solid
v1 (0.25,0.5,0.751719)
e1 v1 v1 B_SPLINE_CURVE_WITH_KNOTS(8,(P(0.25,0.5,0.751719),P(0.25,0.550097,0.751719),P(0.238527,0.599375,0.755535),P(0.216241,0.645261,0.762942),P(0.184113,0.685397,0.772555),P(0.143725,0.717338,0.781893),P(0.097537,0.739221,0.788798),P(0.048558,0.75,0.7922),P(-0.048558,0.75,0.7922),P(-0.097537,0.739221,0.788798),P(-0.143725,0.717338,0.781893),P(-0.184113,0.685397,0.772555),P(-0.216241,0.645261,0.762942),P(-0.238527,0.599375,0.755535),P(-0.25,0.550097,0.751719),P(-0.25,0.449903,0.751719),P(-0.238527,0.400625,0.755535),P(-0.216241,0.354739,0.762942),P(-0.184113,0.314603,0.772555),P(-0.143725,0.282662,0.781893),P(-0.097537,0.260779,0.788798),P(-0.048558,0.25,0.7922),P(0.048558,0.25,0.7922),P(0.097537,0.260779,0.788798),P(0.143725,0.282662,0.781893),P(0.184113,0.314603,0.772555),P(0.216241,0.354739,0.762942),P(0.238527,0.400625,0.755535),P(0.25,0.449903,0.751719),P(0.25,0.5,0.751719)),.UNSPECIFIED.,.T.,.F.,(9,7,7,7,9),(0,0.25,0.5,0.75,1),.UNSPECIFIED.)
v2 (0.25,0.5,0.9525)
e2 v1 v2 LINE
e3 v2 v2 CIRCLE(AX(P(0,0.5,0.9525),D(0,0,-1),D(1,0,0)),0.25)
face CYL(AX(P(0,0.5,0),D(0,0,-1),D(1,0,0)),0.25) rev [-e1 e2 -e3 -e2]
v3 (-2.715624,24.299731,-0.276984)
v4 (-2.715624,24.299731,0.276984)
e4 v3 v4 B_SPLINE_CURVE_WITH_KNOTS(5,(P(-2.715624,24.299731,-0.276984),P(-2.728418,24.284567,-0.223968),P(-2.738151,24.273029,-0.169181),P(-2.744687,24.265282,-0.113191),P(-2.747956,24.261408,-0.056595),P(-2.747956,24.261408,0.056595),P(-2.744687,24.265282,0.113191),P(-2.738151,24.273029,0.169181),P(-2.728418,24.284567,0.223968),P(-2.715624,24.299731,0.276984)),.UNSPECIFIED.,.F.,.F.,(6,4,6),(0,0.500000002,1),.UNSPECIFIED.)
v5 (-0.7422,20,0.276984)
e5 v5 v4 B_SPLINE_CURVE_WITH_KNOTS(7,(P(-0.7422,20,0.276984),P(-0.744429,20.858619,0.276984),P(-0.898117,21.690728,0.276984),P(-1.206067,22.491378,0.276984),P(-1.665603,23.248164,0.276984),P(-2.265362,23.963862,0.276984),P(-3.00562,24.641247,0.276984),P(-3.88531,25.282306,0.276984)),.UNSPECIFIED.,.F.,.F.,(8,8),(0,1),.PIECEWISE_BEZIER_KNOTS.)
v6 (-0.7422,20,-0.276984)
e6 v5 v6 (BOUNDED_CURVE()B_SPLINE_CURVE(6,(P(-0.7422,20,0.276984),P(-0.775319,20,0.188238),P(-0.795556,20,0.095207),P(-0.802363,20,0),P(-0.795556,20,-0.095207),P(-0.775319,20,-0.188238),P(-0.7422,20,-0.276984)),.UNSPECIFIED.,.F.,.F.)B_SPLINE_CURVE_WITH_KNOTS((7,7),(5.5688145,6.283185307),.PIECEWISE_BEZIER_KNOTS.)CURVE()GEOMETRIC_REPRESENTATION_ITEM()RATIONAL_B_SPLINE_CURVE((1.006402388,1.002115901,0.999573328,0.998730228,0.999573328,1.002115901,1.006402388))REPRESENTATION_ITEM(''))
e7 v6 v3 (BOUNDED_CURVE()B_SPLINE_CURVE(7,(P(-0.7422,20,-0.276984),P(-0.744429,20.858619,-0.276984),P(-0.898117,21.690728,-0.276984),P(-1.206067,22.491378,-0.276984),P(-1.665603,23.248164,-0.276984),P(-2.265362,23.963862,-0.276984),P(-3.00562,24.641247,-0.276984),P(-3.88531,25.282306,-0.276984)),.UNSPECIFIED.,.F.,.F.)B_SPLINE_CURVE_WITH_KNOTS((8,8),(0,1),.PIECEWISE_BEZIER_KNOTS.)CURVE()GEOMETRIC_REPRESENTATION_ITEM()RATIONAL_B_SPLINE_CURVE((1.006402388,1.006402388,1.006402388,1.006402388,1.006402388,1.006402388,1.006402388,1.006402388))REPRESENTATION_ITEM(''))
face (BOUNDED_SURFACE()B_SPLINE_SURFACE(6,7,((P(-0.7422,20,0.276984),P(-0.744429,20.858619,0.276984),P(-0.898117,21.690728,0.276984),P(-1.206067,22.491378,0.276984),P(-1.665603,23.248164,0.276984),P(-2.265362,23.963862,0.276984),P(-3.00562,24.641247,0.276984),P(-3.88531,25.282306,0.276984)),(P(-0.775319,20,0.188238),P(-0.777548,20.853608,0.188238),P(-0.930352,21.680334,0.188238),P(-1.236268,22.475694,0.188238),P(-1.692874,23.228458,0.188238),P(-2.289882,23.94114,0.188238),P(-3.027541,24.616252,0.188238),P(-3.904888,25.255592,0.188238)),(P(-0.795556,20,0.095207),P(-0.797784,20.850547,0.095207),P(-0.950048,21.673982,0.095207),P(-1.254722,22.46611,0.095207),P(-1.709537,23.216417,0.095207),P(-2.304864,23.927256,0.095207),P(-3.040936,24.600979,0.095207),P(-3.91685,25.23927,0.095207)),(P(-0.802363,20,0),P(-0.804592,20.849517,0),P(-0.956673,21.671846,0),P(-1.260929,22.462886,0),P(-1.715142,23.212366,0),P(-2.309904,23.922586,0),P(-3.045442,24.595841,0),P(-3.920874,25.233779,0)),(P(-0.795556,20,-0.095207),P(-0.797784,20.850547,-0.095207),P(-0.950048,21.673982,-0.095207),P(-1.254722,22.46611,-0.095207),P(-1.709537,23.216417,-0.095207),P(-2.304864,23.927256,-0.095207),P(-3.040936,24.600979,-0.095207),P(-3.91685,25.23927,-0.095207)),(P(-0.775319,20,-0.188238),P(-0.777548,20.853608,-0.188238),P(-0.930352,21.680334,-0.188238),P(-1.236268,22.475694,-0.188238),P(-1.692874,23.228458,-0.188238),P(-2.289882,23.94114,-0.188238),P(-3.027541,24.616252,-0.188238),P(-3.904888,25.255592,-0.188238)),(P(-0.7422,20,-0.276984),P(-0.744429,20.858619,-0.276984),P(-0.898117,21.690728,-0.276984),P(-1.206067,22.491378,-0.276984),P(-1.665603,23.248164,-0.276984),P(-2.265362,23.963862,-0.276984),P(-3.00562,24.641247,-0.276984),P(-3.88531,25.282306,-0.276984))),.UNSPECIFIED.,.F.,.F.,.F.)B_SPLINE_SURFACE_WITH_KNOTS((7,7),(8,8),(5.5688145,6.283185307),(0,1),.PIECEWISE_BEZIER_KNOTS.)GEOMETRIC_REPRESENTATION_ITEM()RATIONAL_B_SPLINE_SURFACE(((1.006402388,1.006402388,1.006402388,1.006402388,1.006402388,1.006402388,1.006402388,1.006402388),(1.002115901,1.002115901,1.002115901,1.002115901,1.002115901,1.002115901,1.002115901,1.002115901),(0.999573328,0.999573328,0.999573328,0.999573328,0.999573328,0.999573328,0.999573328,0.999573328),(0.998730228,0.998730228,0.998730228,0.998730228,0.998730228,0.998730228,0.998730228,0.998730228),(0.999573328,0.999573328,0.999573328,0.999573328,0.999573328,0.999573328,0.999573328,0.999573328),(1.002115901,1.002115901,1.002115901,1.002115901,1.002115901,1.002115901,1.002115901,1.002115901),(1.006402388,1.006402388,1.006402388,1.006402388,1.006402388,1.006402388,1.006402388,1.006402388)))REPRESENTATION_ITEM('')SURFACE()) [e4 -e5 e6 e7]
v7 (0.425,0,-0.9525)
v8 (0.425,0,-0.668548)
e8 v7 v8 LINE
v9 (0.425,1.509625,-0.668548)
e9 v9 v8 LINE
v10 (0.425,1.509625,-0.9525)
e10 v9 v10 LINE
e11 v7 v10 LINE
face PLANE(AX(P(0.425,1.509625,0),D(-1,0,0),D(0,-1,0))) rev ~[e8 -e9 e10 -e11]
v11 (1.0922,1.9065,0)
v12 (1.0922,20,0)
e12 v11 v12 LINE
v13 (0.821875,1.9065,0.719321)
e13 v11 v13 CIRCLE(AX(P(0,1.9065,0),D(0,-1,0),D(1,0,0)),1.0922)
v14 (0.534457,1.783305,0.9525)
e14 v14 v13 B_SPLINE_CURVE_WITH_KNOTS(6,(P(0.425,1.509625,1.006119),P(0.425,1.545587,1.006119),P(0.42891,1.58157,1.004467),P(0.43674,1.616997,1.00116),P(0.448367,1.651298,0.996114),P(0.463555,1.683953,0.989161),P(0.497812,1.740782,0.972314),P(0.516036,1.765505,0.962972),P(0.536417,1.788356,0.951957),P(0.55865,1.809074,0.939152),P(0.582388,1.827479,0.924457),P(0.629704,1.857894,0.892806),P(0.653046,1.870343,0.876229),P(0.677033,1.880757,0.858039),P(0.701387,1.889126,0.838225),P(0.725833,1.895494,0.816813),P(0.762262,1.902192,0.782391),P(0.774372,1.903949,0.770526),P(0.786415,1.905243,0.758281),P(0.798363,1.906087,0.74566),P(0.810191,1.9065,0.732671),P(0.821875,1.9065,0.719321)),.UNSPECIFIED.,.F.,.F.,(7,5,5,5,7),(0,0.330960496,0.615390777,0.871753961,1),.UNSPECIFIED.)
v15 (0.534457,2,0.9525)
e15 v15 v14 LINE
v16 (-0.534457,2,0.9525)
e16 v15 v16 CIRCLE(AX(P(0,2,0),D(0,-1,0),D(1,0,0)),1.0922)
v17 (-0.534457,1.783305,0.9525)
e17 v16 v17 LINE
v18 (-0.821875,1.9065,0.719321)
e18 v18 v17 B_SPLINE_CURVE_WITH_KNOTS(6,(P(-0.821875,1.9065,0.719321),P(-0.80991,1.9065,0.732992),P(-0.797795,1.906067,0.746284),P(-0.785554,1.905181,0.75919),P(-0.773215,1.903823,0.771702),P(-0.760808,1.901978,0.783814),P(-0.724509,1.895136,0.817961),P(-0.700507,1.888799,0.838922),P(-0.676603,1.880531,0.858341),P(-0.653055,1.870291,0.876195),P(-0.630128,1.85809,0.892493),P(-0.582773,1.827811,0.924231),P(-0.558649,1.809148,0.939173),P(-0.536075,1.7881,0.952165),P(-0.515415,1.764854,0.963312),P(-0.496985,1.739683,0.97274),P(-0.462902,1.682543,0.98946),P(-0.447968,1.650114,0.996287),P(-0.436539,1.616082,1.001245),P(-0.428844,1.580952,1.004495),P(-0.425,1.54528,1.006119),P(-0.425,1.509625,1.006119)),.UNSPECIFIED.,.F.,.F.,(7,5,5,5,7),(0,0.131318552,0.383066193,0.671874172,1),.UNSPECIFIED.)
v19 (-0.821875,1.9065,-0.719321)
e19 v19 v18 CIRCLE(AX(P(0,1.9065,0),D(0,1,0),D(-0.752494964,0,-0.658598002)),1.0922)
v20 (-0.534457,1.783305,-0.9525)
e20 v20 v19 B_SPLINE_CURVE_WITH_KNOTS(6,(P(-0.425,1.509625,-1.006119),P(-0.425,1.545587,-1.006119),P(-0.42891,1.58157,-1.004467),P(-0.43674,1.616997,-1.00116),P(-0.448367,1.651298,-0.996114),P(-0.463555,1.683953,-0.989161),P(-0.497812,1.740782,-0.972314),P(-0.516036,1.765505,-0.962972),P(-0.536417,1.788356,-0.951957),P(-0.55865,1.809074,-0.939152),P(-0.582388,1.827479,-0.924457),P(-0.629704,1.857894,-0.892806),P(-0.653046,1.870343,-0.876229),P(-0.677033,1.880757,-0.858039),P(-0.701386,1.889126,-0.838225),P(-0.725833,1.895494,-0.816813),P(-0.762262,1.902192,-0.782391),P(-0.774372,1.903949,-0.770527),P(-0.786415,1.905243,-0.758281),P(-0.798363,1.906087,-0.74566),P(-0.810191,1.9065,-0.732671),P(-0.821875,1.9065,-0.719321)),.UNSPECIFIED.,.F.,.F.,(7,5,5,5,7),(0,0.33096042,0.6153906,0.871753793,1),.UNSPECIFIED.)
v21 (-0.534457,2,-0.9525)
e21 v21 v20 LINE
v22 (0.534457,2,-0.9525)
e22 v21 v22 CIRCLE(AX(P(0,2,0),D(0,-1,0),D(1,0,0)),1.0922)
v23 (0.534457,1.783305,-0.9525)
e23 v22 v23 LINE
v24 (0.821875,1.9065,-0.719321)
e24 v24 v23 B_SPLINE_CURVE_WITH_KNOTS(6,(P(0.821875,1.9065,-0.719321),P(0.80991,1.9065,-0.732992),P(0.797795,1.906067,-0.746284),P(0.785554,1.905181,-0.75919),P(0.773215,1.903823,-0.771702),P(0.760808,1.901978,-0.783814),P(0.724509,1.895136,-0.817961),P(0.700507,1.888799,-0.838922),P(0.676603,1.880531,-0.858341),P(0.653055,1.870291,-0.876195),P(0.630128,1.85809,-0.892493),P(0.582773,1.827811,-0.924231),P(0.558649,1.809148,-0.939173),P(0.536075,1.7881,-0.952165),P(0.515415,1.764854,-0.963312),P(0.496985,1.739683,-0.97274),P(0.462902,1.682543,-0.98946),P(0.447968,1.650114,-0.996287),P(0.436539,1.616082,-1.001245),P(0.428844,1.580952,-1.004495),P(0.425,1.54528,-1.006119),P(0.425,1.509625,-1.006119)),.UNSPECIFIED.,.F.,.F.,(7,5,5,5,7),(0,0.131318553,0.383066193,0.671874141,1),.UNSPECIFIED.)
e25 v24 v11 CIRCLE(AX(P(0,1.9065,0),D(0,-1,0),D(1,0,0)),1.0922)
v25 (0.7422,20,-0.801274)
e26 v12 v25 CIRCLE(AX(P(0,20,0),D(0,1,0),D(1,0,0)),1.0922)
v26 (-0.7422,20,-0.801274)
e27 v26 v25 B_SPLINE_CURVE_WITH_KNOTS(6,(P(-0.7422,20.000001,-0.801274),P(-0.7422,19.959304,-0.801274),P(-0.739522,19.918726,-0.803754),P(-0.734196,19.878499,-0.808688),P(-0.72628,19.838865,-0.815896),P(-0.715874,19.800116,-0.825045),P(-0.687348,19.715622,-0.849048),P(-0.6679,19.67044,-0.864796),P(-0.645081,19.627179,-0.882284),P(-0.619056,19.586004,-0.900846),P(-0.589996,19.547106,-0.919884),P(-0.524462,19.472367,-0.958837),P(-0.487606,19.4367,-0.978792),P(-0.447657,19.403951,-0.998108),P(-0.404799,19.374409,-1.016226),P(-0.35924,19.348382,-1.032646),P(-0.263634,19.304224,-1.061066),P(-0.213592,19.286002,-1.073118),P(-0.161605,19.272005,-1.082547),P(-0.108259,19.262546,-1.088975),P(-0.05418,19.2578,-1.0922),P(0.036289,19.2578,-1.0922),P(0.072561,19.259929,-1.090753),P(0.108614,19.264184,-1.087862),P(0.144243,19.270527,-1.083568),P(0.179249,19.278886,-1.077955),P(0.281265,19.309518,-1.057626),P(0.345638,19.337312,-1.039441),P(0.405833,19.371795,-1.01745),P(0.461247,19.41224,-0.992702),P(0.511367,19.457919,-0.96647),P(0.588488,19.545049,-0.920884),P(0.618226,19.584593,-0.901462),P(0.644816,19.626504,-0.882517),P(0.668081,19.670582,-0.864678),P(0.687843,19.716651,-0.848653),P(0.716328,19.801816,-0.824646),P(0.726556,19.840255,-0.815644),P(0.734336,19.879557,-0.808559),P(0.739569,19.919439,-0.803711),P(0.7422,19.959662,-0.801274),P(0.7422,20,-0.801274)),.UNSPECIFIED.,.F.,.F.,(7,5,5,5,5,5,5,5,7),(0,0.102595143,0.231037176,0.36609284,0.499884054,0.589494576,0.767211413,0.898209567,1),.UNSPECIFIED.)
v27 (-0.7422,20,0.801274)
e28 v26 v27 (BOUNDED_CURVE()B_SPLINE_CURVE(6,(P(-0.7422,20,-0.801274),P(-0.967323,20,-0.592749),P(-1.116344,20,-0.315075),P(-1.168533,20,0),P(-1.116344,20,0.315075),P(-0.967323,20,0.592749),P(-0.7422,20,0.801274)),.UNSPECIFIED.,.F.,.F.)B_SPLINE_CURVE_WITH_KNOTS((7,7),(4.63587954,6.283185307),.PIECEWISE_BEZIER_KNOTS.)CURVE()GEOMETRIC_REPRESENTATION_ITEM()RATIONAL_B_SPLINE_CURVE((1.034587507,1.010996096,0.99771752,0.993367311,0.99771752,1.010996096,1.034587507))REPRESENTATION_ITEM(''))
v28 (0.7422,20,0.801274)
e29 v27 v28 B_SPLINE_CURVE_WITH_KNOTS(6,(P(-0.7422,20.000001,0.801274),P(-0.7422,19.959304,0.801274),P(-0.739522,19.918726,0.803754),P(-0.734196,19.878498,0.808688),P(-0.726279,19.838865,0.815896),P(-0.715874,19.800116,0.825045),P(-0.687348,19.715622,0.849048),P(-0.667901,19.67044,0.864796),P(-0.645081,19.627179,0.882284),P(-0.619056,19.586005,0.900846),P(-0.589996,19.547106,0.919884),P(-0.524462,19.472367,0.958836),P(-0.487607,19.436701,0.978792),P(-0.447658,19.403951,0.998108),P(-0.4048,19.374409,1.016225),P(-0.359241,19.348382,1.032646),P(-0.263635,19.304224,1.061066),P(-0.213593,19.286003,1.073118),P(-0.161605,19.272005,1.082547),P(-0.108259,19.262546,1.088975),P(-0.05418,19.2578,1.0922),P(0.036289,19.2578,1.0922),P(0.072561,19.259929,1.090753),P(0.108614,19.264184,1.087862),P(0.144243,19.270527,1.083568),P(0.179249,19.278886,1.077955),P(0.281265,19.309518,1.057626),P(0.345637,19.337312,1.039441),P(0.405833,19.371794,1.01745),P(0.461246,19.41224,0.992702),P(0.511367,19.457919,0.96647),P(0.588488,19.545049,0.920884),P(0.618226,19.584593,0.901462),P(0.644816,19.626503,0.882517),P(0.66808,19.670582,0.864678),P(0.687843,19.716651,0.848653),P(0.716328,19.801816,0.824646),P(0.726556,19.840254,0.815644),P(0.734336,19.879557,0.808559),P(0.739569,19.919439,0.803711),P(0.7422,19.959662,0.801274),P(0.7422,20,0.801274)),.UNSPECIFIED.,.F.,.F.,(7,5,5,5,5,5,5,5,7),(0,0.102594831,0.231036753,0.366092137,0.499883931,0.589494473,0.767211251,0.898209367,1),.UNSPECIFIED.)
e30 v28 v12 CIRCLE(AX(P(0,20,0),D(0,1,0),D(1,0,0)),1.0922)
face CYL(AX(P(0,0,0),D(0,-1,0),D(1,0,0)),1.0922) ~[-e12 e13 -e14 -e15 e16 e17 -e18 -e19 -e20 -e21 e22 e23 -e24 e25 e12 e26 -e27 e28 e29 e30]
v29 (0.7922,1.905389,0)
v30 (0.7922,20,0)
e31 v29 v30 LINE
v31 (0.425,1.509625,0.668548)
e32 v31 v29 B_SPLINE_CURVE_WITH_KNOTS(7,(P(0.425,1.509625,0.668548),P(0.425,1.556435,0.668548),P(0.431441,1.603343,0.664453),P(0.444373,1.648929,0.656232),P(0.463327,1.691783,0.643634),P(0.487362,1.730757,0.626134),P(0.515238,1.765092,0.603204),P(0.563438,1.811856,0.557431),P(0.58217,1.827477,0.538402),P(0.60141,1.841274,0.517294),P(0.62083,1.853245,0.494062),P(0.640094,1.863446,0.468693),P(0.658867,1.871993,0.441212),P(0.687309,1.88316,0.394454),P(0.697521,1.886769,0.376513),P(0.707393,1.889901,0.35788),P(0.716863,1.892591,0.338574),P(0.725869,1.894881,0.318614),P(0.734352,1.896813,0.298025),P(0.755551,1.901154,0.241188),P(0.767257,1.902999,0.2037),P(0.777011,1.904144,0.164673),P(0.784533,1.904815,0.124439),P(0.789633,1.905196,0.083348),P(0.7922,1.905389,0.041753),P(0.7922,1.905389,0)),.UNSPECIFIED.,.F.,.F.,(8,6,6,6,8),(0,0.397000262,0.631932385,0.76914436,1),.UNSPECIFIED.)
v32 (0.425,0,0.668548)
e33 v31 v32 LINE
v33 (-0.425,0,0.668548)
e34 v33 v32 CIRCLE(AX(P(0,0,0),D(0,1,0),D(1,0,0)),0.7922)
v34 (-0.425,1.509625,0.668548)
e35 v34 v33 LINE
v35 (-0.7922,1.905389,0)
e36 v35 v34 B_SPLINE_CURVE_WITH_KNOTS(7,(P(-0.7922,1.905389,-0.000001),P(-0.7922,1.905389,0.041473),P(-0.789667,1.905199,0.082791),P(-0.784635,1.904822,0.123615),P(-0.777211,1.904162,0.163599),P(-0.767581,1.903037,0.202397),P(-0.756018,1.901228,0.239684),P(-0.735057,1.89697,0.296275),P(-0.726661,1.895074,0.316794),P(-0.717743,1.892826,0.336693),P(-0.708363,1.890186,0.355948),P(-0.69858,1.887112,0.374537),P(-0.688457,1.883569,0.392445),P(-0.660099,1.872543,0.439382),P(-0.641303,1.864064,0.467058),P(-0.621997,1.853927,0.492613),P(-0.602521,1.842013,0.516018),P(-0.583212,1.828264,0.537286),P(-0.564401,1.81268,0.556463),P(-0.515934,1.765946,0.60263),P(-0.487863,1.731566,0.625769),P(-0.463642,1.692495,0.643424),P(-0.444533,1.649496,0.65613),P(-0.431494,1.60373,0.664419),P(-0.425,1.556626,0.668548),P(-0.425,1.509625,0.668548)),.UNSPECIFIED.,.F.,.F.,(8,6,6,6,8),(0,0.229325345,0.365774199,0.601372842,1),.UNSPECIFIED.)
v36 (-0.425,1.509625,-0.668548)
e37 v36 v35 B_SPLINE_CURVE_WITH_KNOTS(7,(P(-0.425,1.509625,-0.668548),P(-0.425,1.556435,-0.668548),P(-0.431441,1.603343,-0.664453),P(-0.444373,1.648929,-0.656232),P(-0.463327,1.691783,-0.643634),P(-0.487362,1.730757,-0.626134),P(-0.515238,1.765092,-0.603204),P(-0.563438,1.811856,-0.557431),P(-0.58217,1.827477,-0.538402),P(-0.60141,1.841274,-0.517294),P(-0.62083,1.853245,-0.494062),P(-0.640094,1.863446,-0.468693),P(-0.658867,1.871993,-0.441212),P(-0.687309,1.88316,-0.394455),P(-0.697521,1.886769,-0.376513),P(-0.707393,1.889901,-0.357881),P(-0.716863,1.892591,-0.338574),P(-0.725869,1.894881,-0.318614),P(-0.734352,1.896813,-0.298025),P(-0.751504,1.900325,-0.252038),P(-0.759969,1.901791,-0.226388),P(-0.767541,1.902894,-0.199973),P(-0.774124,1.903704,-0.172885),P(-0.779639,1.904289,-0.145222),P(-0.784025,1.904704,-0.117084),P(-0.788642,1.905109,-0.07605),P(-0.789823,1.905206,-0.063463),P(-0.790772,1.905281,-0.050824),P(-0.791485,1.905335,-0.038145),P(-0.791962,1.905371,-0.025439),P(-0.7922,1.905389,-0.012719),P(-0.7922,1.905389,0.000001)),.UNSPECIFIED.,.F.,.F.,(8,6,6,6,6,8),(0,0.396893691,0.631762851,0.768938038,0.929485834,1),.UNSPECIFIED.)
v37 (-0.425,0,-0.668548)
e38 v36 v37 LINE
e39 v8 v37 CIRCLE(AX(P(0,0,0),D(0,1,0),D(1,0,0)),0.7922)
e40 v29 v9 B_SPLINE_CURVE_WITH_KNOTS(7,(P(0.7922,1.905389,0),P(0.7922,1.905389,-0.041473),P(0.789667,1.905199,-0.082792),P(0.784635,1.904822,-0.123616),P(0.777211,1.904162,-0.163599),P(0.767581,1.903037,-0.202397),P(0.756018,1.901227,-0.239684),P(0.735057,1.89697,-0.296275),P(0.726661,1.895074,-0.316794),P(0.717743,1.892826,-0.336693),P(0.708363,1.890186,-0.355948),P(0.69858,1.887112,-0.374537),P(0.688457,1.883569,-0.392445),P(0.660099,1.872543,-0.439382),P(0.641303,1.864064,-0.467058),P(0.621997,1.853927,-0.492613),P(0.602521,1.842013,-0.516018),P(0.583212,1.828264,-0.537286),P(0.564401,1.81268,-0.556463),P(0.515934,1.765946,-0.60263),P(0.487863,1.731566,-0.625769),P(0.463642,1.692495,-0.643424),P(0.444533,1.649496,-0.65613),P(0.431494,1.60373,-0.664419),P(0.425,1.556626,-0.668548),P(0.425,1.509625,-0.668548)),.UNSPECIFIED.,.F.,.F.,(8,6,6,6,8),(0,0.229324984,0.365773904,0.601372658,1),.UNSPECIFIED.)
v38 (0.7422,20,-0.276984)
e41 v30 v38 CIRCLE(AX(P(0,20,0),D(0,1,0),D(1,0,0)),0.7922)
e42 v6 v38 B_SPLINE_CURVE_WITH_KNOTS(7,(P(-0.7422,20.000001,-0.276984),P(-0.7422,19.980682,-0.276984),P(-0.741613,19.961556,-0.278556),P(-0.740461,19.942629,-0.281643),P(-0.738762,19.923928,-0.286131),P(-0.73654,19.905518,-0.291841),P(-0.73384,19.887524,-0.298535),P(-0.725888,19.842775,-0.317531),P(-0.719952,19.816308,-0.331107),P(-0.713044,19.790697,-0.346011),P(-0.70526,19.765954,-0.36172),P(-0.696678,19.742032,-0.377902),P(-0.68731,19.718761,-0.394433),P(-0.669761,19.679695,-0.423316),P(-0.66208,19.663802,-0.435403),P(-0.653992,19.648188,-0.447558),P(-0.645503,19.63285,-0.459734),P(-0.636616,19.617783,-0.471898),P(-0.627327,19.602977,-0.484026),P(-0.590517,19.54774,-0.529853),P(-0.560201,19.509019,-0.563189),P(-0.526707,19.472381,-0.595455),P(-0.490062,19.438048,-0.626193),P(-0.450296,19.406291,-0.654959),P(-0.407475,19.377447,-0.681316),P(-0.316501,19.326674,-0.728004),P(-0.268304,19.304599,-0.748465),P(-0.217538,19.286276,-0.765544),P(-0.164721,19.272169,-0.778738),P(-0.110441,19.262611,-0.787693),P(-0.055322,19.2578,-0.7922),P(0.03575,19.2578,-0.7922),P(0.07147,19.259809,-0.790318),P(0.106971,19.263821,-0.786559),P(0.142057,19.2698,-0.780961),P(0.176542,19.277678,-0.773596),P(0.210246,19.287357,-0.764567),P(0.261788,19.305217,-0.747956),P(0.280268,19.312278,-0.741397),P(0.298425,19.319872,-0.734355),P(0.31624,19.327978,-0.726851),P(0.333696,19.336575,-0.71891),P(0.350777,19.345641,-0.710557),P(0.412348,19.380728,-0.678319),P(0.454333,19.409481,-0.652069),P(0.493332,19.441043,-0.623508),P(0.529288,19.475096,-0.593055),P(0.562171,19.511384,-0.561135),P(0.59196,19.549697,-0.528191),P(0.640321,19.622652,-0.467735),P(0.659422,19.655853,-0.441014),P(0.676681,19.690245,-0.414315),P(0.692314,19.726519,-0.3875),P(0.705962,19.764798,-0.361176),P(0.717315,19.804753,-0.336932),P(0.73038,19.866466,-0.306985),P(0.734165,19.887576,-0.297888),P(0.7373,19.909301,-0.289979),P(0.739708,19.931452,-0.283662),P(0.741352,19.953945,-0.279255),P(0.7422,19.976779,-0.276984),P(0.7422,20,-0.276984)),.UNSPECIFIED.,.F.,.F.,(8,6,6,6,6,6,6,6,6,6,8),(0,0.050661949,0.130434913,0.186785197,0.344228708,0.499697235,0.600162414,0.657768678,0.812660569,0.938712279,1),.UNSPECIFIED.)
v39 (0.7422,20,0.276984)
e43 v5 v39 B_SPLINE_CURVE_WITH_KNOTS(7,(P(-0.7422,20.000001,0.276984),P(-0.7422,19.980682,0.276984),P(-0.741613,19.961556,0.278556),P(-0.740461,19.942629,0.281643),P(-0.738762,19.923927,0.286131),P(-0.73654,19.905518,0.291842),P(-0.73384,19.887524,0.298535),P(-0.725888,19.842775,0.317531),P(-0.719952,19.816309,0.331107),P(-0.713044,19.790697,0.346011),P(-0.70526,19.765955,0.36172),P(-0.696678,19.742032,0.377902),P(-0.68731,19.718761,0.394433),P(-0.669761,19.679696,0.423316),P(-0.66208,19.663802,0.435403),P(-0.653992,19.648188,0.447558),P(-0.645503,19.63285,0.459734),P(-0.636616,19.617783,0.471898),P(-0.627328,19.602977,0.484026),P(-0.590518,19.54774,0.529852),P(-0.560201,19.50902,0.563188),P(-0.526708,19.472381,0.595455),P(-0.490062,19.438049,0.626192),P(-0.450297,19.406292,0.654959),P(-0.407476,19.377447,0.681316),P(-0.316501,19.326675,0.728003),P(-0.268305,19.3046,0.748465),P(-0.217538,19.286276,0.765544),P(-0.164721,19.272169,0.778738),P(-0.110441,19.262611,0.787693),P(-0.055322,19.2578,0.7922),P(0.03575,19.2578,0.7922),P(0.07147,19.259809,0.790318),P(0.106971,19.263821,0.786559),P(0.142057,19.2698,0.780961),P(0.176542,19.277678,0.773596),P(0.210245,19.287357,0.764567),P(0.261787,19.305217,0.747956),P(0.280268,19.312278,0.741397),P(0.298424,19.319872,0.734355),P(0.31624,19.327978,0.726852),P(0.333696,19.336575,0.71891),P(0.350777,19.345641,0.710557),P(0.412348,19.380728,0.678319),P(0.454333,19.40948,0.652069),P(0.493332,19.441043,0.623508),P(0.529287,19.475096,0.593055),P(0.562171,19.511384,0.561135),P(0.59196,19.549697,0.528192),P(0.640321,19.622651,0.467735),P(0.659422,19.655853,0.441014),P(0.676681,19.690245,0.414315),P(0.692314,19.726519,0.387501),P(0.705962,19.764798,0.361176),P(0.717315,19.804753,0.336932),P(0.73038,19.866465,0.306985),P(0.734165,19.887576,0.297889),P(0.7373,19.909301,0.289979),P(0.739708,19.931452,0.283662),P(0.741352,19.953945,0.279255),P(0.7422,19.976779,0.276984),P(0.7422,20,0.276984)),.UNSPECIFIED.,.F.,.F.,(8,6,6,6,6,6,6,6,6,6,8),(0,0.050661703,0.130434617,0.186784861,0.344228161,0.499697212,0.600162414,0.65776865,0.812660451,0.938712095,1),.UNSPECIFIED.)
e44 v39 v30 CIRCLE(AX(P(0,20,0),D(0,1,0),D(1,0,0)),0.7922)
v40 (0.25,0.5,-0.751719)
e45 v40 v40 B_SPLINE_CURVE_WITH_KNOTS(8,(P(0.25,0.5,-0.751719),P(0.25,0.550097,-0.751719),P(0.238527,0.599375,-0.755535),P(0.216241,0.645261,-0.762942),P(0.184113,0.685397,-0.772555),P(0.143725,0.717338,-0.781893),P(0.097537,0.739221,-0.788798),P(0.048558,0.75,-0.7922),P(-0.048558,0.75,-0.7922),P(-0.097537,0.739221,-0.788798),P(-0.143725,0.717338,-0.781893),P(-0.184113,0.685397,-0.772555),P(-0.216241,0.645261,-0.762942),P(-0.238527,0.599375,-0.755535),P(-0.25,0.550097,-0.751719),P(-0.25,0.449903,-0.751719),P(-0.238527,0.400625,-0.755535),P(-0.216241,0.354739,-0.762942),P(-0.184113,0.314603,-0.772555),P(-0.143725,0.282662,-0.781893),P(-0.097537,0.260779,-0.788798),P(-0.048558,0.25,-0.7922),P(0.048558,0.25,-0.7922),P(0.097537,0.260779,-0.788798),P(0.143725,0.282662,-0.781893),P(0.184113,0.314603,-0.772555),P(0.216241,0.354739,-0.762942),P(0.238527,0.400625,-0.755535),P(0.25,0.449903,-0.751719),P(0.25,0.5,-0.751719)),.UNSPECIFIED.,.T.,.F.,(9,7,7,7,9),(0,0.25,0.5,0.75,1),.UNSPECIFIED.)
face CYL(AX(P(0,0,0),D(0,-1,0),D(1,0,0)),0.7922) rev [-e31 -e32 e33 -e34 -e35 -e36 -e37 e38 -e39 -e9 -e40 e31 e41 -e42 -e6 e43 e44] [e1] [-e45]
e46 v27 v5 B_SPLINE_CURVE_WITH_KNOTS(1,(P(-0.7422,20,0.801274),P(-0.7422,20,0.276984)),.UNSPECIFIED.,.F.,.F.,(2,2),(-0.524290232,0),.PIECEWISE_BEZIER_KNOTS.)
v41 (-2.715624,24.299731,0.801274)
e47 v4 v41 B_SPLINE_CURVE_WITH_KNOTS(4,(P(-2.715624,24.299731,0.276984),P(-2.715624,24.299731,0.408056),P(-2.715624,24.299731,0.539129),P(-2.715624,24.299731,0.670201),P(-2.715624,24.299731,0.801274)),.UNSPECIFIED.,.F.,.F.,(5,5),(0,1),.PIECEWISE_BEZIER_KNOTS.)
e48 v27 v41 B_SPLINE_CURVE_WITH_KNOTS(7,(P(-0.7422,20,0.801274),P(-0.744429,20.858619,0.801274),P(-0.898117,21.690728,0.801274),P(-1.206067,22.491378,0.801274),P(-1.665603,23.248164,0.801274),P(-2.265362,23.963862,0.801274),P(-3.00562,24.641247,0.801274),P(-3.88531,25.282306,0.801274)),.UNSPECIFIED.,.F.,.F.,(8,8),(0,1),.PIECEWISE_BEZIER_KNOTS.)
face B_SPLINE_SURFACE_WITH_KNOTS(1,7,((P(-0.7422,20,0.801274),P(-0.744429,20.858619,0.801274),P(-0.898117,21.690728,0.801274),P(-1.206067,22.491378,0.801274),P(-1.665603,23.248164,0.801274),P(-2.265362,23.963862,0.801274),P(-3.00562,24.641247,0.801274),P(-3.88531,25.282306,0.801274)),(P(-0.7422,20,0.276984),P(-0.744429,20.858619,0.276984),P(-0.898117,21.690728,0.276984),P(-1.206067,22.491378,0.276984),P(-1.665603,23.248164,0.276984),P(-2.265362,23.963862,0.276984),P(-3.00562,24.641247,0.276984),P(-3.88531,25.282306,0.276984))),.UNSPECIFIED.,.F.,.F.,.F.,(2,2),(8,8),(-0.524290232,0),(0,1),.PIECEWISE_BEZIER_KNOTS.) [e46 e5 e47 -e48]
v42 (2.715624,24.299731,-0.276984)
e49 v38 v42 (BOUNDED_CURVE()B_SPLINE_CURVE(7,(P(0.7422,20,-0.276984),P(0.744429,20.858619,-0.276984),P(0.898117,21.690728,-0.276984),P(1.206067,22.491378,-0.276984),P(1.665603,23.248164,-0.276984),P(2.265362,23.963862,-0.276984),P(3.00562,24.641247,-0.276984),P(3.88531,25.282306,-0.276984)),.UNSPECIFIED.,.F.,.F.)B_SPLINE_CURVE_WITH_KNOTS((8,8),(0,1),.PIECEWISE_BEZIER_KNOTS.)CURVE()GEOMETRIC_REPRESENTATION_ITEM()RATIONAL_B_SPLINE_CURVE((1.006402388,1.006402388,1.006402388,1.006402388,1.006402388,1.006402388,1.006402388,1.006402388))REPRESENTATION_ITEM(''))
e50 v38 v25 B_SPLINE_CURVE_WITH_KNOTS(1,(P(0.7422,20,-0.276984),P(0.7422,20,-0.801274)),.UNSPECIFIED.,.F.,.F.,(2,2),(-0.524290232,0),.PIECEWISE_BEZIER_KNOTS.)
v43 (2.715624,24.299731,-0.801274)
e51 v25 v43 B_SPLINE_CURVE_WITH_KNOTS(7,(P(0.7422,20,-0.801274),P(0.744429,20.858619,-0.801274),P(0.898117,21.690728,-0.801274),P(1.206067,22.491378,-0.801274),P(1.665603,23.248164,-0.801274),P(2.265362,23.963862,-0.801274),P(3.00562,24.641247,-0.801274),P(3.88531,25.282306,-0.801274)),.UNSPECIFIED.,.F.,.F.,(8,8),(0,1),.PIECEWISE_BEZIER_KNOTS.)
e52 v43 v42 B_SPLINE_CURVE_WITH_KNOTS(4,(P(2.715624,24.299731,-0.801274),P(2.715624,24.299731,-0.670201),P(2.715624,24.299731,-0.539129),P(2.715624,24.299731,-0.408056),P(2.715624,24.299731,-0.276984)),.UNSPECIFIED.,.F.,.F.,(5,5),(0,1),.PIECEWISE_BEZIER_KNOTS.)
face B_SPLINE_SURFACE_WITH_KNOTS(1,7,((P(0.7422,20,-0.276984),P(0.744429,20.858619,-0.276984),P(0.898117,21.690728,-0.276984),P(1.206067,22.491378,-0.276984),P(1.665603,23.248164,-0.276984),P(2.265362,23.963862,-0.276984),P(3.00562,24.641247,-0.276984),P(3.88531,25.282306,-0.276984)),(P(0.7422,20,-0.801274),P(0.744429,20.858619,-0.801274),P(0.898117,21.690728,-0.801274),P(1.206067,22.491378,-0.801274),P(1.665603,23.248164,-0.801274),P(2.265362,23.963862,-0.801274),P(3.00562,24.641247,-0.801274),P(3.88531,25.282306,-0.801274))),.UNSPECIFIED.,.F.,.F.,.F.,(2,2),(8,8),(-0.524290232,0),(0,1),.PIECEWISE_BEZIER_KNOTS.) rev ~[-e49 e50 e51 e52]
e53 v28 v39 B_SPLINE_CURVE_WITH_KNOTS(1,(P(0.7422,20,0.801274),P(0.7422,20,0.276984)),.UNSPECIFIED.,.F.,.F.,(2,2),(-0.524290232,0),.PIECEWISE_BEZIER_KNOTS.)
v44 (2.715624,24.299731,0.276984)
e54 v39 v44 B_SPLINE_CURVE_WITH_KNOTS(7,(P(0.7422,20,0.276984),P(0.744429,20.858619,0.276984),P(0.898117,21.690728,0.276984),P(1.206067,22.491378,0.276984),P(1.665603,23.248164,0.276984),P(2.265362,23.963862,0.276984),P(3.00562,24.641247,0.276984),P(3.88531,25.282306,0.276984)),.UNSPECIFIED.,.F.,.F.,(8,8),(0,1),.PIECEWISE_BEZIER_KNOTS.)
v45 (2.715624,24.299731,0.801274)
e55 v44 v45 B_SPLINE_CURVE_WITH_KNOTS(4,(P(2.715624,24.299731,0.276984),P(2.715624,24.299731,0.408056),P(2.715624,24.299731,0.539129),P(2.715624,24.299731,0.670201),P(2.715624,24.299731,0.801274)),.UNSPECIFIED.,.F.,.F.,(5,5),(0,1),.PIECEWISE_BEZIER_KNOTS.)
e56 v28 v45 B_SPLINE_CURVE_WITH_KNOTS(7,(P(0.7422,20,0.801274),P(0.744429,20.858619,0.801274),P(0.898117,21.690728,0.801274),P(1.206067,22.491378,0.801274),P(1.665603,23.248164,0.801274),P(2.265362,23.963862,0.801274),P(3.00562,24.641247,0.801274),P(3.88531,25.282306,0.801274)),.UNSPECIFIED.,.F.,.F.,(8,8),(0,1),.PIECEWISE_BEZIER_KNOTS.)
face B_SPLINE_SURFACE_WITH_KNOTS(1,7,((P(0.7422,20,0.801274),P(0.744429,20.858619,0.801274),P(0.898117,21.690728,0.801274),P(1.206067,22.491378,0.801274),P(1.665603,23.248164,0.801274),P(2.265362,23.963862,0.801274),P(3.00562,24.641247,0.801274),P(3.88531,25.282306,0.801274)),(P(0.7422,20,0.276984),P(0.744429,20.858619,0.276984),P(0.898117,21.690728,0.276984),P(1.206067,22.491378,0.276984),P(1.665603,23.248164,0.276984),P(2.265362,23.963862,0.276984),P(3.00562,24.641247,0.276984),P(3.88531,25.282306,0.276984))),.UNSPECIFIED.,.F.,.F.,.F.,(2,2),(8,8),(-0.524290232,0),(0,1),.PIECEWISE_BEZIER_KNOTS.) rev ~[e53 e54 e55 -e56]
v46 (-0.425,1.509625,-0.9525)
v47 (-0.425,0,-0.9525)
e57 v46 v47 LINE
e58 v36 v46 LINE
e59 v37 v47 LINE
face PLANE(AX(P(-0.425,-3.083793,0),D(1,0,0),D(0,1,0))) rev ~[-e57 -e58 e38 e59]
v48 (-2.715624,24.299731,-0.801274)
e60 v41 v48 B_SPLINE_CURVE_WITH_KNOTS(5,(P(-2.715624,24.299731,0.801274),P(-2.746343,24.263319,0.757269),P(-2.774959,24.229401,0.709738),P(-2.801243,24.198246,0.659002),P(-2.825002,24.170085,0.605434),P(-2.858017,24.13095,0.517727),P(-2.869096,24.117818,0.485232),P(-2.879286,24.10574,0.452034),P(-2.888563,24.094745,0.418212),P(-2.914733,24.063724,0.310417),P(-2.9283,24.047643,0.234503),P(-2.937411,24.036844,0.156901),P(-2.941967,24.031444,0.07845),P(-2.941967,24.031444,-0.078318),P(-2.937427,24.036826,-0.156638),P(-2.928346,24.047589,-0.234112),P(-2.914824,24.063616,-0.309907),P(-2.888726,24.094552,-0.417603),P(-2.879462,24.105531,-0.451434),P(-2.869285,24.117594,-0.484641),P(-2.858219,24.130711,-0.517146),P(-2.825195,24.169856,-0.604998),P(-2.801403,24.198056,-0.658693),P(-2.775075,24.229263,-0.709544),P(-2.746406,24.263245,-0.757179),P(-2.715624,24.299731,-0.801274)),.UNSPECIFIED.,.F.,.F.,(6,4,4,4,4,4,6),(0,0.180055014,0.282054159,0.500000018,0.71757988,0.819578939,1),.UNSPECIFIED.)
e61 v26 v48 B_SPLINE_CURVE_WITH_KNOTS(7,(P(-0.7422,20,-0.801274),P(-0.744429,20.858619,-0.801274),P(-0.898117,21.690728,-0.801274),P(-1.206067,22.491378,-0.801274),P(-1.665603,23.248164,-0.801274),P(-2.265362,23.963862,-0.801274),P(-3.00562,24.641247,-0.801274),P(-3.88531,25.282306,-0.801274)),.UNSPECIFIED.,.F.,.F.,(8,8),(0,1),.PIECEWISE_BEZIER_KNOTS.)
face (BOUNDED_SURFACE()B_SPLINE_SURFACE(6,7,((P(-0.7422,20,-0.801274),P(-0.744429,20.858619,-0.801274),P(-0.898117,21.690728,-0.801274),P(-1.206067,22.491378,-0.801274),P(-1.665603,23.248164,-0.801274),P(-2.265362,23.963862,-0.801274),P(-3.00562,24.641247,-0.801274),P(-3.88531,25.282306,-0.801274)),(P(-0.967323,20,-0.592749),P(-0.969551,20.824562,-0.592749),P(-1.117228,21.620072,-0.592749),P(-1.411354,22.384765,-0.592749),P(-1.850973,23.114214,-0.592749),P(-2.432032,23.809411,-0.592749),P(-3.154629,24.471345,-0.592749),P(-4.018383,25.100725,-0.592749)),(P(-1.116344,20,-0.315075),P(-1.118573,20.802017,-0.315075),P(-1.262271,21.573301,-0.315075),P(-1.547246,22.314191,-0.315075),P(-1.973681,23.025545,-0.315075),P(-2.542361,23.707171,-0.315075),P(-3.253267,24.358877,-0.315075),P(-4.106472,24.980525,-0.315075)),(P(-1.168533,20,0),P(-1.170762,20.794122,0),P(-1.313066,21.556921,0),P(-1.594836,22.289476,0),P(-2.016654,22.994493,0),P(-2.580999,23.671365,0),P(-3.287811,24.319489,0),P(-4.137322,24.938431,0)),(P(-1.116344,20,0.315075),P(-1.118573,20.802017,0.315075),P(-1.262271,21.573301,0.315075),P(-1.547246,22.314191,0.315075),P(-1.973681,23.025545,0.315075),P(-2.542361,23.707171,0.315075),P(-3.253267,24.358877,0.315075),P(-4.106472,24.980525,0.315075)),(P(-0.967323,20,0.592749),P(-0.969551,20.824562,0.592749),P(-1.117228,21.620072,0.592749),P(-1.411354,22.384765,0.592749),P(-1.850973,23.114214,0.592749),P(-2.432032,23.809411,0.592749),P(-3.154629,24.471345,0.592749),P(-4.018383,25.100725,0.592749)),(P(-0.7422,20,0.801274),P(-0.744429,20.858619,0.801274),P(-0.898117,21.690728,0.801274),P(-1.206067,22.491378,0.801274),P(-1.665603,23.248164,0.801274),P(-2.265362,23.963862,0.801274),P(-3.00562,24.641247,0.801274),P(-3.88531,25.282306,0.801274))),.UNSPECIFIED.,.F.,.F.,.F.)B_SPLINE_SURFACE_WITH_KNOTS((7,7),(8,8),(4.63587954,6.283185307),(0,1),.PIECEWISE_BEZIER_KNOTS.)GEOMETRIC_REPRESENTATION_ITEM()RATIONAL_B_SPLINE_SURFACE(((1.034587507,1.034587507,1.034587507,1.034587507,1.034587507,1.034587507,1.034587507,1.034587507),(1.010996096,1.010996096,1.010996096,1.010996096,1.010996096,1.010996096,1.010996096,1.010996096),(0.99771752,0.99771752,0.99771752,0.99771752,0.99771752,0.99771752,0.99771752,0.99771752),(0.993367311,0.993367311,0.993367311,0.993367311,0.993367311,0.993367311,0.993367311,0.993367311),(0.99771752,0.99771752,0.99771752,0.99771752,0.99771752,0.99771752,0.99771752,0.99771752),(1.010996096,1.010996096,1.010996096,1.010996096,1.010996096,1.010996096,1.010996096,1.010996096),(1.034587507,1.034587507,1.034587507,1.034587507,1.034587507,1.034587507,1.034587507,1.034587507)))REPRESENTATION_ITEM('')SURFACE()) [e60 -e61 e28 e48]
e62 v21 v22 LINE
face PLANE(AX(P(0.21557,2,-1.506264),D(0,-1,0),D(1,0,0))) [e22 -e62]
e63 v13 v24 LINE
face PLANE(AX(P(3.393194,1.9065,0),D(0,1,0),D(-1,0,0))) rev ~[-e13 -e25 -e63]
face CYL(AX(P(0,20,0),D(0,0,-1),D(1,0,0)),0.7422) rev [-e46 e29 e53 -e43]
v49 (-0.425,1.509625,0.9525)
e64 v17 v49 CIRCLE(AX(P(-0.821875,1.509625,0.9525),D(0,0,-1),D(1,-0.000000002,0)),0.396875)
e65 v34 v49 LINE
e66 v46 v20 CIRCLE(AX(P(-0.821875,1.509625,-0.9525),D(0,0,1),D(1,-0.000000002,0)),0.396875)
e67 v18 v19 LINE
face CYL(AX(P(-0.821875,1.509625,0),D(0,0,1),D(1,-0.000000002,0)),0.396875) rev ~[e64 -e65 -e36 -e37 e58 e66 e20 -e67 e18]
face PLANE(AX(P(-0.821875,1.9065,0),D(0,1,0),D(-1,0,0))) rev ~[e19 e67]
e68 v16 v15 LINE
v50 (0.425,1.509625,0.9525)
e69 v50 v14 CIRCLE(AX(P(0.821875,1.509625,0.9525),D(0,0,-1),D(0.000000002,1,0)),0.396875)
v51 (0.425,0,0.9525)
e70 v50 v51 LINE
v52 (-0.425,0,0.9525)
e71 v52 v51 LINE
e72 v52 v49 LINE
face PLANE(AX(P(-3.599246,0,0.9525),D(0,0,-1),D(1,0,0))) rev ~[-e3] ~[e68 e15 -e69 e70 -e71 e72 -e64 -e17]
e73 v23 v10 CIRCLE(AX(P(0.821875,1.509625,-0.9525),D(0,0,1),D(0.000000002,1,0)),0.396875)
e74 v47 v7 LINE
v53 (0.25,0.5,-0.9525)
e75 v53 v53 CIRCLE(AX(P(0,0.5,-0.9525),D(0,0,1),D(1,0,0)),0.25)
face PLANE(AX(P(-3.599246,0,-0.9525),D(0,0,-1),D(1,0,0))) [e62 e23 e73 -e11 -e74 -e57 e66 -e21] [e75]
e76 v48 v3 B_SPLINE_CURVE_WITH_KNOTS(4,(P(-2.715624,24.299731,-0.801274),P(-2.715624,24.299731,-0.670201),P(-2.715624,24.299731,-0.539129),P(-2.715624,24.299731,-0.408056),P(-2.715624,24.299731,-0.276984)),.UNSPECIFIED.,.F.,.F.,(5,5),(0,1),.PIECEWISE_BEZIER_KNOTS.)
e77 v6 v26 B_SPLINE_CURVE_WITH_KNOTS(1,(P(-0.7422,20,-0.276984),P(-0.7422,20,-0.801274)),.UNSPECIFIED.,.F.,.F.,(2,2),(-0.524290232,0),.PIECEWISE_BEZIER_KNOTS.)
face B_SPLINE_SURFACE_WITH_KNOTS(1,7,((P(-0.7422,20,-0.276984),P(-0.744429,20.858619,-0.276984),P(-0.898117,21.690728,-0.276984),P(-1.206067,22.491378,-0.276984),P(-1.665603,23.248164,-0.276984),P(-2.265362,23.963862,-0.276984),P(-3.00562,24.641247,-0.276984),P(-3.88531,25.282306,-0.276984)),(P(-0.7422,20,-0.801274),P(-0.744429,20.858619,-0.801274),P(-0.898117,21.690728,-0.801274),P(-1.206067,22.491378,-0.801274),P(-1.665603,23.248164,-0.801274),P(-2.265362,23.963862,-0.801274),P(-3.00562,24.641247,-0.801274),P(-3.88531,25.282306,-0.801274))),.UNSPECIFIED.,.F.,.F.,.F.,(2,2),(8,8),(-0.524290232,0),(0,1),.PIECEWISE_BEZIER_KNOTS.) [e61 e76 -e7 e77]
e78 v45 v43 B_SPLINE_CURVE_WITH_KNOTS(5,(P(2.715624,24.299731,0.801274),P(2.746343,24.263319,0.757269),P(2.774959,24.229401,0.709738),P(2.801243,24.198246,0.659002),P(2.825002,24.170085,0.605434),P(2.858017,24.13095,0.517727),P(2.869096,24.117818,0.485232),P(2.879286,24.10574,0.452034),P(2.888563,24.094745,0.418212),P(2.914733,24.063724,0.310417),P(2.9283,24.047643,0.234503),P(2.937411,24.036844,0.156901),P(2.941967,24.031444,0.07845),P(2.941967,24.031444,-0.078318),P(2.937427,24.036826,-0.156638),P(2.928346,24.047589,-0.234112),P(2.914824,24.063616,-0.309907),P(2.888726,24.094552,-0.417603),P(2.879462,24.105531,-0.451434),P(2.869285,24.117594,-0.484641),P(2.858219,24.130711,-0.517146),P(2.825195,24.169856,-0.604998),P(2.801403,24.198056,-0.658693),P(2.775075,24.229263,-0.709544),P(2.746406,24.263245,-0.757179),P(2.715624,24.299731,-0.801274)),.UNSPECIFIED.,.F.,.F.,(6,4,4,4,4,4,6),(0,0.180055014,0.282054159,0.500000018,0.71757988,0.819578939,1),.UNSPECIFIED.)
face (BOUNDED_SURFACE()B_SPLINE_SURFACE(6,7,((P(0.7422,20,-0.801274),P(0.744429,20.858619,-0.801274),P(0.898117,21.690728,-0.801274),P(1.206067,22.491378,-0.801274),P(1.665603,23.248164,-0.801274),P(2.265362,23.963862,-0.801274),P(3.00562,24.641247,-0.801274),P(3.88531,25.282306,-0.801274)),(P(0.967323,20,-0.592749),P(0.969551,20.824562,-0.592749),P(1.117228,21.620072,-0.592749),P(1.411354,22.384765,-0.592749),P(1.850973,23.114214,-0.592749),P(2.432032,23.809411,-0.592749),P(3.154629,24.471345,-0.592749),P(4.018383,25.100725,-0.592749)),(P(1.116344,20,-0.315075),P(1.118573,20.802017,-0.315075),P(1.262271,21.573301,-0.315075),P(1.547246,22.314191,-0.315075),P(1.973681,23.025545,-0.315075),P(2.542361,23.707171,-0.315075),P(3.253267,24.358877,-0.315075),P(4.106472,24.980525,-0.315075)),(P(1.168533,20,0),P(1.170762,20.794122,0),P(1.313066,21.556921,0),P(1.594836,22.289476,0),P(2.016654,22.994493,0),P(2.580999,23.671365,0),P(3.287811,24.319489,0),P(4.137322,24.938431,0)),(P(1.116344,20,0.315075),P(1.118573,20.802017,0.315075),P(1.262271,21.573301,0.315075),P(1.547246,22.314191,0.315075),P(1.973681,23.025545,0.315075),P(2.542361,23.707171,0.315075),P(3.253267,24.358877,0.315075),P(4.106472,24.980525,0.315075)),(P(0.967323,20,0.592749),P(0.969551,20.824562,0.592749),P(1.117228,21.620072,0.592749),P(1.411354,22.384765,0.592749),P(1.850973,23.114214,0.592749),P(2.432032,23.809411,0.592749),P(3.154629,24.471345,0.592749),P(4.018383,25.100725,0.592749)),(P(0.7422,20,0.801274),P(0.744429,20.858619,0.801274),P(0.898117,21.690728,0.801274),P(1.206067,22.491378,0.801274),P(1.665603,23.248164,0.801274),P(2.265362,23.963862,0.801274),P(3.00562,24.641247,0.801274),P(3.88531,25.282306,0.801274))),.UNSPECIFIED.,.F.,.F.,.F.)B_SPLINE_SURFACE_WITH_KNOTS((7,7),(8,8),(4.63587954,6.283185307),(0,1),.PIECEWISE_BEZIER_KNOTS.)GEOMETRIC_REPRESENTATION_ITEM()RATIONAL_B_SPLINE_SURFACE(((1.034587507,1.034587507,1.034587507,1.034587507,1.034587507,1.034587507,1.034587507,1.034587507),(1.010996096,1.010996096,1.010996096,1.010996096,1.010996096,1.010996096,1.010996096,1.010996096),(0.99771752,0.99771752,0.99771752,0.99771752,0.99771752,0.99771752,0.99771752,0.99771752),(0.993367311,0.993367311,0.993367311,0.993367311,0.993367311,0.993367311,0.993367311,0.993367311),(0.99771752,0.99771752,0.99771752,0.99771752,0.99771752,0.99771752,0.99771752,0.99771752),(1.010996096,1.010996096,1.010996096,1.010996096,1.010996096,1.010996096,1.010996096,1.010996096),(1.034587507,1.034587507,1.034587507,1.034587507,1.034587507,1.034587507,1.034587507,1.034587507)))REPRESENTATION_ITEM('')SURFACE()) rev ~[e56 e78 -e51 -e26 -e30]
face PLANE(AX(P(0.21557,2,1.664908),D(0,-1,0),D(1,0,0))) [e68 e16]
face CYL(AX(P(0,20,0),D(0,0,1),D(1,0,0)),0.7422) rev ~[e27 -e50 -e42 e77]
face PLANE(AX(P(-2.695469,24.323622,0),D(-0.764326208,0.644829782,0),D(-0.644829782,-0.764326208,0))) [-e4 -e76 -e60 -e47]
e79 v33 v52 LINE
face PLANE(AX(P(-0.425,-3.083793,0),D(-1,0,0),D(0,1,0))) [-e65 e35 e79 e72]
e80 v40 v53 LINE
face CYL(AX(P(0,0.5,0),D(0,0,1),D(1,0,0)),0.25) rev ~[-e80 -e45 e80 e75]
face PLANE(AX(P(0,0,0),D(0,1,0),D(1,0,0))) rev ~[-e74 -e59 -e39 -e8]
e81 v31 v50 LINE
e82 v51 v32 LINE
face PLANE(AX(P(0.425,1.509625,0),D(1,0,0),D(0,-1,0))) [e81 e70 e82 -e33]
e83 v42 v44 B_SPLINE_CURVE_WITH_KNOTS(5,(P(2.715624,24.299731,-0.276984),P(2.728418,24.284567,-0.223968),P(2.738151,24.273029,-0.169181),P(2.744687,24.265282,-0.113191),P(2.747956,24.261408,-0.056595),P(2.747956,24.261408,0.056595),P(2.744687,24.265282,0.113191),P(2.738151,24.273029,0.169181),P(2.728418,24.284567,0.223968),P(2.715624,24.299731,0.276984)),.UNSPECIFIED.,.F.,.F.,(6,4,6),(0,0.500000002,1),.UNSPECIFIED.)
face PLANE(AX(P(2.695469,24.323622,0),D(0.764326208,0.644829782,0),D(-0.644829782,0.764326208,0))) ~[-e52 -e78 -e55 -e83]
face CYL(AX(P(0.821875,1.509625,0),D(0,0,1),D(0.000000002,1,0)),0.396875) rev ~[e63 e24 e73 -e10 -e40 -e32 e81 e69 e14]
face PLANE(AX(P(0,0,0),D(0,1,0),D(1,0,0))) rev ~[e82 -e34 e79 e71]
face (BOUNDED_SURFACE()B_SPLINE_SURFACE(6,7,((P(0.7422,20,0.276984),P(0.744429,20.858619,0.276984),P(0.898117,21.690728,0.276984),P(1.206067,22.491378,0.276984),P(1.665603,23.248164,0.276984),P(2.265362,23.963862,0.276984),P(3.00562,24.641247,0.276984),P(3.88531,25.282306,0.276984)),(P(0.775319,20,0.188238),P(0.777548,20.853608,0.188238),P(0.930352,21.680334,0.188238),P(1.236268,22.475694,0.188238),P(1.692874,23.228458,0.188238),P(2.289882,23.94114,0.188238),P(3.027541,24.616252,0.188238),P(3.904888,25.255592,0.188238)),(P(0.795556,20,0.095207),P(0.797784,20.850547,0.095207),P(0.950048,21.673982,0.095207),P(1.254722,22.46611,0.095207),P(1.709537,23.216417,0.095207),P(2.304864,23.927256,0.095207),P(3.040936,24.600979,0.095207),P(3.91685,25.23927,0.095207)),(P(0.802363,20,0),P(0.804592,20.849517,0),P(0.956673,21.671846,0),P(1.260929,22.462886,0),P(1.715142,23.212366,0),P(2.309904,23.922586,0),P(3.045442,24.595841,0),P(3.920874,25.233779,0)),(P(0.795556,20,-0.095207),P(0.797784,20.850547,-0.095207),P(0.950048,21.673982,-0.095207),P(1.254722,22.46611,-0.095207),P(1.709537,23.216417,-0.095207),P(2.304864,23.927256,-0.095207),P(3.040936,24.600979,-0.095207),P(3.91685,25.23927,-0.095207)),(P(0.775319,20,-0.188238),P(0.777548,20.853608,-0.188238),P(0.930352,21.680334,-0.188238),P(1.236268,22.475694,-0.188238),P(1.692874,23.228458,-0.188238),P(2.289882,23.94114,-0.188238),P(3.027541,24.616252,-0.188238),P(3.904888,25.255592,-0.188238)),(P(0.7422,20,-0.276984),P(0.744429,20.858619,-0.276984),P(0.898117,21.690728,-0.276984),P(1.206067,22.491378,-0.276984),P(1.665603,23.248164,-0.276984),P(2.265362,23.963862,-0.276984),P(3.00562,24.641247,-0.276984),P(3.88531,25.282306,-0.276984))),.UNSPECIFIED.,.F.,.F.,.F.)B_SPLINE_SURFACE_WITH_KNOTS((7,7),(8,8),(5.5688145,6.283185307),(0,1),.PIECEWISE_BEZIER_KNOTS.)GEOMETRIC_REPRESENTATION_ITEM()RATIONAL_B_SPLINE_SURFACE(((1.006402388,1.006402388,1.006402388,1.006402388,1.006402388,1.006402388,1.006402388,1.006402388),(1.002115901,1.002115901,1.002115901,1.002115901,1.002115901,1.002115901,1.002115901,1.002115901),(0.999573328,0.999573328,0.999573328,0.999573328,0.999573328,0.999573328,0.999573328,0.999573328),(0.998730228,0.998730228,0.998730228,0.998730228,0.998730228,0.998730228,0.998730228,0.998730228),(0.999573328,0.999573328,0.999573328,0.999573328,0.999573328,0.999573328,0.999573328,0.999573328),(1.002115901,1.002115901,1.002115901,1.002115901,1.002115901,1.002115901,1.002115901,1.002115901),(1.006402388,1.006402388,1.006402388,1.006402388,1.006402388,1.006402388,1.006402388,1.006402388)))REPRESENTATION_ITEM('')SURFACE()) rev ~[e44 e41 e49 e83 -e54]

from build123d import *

# Parameters (mm, degrees)
SKETCH1_R                = 1.0922
SKETCH1_R_2              = 0.7922
EXTRUDE_THIN1_DEPTH      = 20
CUT_EXTRUDE1_DEPTH       = 26.634625129
CUT_EXTRUDE1_DEPTH_BACK  = 26.634625129
SKETCH5_R                = 0.7422
CUT_EXTRUDE3_DEPTH       = 1
SKETCH10_W               = 7.629631572
SKETCH10_H               = 1.4248156
SKETCH10_H_2             = 1.107527322
CUT_EXTRUDE5_DEPTH       = 2
CUT_EXTRUDE4_DEPTH       = 10
CUT_EXTRUDE4_DEPTH_BACK  = 10
SKETCH9_R                = 0.25
CUT_EXTRUDE10_DEPTH      = 1.5
CUT_EXTRUDE10_DEPTH_BACK = 1.5


with BuildPart() as part:
    # Sketch1 → Extrude-Thin1 (new body)
    with BuildSketch(Plane(origin=(0, 0, 0), x_dir=(1, 0, 0), z_dir=(0, 1, 0))):
        Circle(SKETCH1_R)
        Circle(SKETCH1_R_2, mode=Mode.SUBTRACT)
    extrude(amount=EXTRUDE_THIN1_DEPTH)

    # Sweep1: sweep along a path in Sketch4
    with BuildLine() as sweep1_path:  # in the path sketch's own coordinates; laid on its plane below (add() does not lay a ready-made edge on the line's plane)
        add(Edge.make_bspline(
            [(-1.0922, 20), (-1.1, 22.819845093), (-4.0922, 25)],
            knots=[0, 0, 0, 1, 1, 1], degree=2))
    # Sketch3 → Sweep1 (sweep)
    with BuildSketch(Plane(origin=(0, 20, 0), x_dir=(1, 0, 0), z_dir=(0, 1, 0))):
        with BuildLine():
            Line((-0.7422, -0.276983754), (-0.7422, -0.801273986))
            ThreePointArc((-0.7422, -0.801273986), (-1.0922, 0), (-0.7422, 0.801273986))
            Line((-0.7422, 0.801273986), (-0.7422, 0.276983754))
            ThreePointArc((-0.7422, 0.276983754), (-0.7922, 0), (-0.7422, -0.276983754))
        make_face()
    sweep1 = sweep(path=Plane.XY * sweep1_path.line)

    # Mirror1: Sweep1 across plane
    add(sweep1.mirror(Plane(origin=(0, 0, 0), x_dir=(0, 0, 1), z_dir=(1, 0, 0))))

    # Sketch5 → Cut-Extrude1 (cut, two sides: drawn at the far end of the back side and taken through both)
    with BuildSketch(Plane.XY.offset(-CUT_EXTRUDE1_DEPTH_BACK)):
        with Locations((0, 20)):
            Circle(SKETCH5_R)
    extrude(amount=CUT_EXTRUDE1_DEPTH + CUT_EXTRUDE1_DEPTH_BACK, mode=Mode.SUBTRACT)

    # Sketch7 → Cut-Extrude3 (cut, symmetric)
    with BuildSketch(Plane.XY):
        Polygon((-3.943727123, 25.376725106), (-2.695468515, 24.323621974), (-3.002892381, 23.959227952), (-4.233358336, 24.997320174), align=None)
    cut_extrude3 = extrude(amount=CUT_EXTRUDE3_DEPTH, both=True, mode=Mode.SUBTRACT)

    # Mirror2: Cut-Extrude3 across plane
    add(cut_extrude3.mirror(Plane(origin=(0, 0, 0), x_dir=(0, 0, 1), z_dir=(1, 0, 0))), mode=Mode.SUBTRACT)

    # Sketch10 → Cut-Extrude5 (cut)
    with BuildSketch(Plane.XZ):
        with Locations((0.215570245, 1.6649078)):
            Rectangle(SKETCH10_W, SKETCH10_H)
        with Locations((0.215570245, -1.506263661)):
            Rectangle(SKETCH10_W, SKETCH10_H_2)
    extrude(amount=-CUT_EXTRUDE5_DEPTH, mode=Mode.SUBTRACT)

    # Sketch9 → Cut-Extrude4 (cut, two sides: drawn at the far end of the back side and taken through both)
    with BuildSketch(Plane.XY.offset(-CUT_EXTRUDE4_DEPTH_BACK)):
        with Locations((0, 0.5)):
            Circle(SKETCH9_R)
    extrude(amount=CUT_EXTRUDE4_DEPTH + CUT_EXTRUDE4_DEPTH_BACK, mode=Mode.SUBTRACT)

    # Sketch11 → Cut-Extrude10 (cut, two sides: drawn at the far end of the back side and taken through both)
    with BuildSketch(Plane.XY.offset(-CUT_EXTRUDE10_DEPTH_BACK)):
        with BuildLine():
            Line((0.425, 1.509625), (0.425, 0))
            Line((0.425, 0), (0.425, -2.073284984))
            Line((0.425, -2.073284984), (3.393193603, 1.9065))
            Line((3.393193603, 1.9065), (0.821875, 1.9065))
            ThreePointArc((0.821875, 1.9065), (0.541241996, 1.790258004), (0.425, 1.509625))
        make_face()
        with BuildLine():
            Line((-0.821875, 1.9065), (-3.393193603, 1.9065))
            Line((-3.393193603, 1.9065), (-0.425, -3.083793411))
            Line((-0.425, -3.083793411), (-0.425, 0))
            Line((-0.425, 0), (-0.425, 1.509625))
            ThreePointArc((-0.425, 1.509625), (-0.541241996, 1.790258004), (-0.821875, 1.9065))
        make_face()
    extrude(amount=CUT_EXTRUDE10_DEPTH + CUT_EXTRUDE10_DEPTH_BACK, mode=Mode.SUBTRACT)


solid = part.part
